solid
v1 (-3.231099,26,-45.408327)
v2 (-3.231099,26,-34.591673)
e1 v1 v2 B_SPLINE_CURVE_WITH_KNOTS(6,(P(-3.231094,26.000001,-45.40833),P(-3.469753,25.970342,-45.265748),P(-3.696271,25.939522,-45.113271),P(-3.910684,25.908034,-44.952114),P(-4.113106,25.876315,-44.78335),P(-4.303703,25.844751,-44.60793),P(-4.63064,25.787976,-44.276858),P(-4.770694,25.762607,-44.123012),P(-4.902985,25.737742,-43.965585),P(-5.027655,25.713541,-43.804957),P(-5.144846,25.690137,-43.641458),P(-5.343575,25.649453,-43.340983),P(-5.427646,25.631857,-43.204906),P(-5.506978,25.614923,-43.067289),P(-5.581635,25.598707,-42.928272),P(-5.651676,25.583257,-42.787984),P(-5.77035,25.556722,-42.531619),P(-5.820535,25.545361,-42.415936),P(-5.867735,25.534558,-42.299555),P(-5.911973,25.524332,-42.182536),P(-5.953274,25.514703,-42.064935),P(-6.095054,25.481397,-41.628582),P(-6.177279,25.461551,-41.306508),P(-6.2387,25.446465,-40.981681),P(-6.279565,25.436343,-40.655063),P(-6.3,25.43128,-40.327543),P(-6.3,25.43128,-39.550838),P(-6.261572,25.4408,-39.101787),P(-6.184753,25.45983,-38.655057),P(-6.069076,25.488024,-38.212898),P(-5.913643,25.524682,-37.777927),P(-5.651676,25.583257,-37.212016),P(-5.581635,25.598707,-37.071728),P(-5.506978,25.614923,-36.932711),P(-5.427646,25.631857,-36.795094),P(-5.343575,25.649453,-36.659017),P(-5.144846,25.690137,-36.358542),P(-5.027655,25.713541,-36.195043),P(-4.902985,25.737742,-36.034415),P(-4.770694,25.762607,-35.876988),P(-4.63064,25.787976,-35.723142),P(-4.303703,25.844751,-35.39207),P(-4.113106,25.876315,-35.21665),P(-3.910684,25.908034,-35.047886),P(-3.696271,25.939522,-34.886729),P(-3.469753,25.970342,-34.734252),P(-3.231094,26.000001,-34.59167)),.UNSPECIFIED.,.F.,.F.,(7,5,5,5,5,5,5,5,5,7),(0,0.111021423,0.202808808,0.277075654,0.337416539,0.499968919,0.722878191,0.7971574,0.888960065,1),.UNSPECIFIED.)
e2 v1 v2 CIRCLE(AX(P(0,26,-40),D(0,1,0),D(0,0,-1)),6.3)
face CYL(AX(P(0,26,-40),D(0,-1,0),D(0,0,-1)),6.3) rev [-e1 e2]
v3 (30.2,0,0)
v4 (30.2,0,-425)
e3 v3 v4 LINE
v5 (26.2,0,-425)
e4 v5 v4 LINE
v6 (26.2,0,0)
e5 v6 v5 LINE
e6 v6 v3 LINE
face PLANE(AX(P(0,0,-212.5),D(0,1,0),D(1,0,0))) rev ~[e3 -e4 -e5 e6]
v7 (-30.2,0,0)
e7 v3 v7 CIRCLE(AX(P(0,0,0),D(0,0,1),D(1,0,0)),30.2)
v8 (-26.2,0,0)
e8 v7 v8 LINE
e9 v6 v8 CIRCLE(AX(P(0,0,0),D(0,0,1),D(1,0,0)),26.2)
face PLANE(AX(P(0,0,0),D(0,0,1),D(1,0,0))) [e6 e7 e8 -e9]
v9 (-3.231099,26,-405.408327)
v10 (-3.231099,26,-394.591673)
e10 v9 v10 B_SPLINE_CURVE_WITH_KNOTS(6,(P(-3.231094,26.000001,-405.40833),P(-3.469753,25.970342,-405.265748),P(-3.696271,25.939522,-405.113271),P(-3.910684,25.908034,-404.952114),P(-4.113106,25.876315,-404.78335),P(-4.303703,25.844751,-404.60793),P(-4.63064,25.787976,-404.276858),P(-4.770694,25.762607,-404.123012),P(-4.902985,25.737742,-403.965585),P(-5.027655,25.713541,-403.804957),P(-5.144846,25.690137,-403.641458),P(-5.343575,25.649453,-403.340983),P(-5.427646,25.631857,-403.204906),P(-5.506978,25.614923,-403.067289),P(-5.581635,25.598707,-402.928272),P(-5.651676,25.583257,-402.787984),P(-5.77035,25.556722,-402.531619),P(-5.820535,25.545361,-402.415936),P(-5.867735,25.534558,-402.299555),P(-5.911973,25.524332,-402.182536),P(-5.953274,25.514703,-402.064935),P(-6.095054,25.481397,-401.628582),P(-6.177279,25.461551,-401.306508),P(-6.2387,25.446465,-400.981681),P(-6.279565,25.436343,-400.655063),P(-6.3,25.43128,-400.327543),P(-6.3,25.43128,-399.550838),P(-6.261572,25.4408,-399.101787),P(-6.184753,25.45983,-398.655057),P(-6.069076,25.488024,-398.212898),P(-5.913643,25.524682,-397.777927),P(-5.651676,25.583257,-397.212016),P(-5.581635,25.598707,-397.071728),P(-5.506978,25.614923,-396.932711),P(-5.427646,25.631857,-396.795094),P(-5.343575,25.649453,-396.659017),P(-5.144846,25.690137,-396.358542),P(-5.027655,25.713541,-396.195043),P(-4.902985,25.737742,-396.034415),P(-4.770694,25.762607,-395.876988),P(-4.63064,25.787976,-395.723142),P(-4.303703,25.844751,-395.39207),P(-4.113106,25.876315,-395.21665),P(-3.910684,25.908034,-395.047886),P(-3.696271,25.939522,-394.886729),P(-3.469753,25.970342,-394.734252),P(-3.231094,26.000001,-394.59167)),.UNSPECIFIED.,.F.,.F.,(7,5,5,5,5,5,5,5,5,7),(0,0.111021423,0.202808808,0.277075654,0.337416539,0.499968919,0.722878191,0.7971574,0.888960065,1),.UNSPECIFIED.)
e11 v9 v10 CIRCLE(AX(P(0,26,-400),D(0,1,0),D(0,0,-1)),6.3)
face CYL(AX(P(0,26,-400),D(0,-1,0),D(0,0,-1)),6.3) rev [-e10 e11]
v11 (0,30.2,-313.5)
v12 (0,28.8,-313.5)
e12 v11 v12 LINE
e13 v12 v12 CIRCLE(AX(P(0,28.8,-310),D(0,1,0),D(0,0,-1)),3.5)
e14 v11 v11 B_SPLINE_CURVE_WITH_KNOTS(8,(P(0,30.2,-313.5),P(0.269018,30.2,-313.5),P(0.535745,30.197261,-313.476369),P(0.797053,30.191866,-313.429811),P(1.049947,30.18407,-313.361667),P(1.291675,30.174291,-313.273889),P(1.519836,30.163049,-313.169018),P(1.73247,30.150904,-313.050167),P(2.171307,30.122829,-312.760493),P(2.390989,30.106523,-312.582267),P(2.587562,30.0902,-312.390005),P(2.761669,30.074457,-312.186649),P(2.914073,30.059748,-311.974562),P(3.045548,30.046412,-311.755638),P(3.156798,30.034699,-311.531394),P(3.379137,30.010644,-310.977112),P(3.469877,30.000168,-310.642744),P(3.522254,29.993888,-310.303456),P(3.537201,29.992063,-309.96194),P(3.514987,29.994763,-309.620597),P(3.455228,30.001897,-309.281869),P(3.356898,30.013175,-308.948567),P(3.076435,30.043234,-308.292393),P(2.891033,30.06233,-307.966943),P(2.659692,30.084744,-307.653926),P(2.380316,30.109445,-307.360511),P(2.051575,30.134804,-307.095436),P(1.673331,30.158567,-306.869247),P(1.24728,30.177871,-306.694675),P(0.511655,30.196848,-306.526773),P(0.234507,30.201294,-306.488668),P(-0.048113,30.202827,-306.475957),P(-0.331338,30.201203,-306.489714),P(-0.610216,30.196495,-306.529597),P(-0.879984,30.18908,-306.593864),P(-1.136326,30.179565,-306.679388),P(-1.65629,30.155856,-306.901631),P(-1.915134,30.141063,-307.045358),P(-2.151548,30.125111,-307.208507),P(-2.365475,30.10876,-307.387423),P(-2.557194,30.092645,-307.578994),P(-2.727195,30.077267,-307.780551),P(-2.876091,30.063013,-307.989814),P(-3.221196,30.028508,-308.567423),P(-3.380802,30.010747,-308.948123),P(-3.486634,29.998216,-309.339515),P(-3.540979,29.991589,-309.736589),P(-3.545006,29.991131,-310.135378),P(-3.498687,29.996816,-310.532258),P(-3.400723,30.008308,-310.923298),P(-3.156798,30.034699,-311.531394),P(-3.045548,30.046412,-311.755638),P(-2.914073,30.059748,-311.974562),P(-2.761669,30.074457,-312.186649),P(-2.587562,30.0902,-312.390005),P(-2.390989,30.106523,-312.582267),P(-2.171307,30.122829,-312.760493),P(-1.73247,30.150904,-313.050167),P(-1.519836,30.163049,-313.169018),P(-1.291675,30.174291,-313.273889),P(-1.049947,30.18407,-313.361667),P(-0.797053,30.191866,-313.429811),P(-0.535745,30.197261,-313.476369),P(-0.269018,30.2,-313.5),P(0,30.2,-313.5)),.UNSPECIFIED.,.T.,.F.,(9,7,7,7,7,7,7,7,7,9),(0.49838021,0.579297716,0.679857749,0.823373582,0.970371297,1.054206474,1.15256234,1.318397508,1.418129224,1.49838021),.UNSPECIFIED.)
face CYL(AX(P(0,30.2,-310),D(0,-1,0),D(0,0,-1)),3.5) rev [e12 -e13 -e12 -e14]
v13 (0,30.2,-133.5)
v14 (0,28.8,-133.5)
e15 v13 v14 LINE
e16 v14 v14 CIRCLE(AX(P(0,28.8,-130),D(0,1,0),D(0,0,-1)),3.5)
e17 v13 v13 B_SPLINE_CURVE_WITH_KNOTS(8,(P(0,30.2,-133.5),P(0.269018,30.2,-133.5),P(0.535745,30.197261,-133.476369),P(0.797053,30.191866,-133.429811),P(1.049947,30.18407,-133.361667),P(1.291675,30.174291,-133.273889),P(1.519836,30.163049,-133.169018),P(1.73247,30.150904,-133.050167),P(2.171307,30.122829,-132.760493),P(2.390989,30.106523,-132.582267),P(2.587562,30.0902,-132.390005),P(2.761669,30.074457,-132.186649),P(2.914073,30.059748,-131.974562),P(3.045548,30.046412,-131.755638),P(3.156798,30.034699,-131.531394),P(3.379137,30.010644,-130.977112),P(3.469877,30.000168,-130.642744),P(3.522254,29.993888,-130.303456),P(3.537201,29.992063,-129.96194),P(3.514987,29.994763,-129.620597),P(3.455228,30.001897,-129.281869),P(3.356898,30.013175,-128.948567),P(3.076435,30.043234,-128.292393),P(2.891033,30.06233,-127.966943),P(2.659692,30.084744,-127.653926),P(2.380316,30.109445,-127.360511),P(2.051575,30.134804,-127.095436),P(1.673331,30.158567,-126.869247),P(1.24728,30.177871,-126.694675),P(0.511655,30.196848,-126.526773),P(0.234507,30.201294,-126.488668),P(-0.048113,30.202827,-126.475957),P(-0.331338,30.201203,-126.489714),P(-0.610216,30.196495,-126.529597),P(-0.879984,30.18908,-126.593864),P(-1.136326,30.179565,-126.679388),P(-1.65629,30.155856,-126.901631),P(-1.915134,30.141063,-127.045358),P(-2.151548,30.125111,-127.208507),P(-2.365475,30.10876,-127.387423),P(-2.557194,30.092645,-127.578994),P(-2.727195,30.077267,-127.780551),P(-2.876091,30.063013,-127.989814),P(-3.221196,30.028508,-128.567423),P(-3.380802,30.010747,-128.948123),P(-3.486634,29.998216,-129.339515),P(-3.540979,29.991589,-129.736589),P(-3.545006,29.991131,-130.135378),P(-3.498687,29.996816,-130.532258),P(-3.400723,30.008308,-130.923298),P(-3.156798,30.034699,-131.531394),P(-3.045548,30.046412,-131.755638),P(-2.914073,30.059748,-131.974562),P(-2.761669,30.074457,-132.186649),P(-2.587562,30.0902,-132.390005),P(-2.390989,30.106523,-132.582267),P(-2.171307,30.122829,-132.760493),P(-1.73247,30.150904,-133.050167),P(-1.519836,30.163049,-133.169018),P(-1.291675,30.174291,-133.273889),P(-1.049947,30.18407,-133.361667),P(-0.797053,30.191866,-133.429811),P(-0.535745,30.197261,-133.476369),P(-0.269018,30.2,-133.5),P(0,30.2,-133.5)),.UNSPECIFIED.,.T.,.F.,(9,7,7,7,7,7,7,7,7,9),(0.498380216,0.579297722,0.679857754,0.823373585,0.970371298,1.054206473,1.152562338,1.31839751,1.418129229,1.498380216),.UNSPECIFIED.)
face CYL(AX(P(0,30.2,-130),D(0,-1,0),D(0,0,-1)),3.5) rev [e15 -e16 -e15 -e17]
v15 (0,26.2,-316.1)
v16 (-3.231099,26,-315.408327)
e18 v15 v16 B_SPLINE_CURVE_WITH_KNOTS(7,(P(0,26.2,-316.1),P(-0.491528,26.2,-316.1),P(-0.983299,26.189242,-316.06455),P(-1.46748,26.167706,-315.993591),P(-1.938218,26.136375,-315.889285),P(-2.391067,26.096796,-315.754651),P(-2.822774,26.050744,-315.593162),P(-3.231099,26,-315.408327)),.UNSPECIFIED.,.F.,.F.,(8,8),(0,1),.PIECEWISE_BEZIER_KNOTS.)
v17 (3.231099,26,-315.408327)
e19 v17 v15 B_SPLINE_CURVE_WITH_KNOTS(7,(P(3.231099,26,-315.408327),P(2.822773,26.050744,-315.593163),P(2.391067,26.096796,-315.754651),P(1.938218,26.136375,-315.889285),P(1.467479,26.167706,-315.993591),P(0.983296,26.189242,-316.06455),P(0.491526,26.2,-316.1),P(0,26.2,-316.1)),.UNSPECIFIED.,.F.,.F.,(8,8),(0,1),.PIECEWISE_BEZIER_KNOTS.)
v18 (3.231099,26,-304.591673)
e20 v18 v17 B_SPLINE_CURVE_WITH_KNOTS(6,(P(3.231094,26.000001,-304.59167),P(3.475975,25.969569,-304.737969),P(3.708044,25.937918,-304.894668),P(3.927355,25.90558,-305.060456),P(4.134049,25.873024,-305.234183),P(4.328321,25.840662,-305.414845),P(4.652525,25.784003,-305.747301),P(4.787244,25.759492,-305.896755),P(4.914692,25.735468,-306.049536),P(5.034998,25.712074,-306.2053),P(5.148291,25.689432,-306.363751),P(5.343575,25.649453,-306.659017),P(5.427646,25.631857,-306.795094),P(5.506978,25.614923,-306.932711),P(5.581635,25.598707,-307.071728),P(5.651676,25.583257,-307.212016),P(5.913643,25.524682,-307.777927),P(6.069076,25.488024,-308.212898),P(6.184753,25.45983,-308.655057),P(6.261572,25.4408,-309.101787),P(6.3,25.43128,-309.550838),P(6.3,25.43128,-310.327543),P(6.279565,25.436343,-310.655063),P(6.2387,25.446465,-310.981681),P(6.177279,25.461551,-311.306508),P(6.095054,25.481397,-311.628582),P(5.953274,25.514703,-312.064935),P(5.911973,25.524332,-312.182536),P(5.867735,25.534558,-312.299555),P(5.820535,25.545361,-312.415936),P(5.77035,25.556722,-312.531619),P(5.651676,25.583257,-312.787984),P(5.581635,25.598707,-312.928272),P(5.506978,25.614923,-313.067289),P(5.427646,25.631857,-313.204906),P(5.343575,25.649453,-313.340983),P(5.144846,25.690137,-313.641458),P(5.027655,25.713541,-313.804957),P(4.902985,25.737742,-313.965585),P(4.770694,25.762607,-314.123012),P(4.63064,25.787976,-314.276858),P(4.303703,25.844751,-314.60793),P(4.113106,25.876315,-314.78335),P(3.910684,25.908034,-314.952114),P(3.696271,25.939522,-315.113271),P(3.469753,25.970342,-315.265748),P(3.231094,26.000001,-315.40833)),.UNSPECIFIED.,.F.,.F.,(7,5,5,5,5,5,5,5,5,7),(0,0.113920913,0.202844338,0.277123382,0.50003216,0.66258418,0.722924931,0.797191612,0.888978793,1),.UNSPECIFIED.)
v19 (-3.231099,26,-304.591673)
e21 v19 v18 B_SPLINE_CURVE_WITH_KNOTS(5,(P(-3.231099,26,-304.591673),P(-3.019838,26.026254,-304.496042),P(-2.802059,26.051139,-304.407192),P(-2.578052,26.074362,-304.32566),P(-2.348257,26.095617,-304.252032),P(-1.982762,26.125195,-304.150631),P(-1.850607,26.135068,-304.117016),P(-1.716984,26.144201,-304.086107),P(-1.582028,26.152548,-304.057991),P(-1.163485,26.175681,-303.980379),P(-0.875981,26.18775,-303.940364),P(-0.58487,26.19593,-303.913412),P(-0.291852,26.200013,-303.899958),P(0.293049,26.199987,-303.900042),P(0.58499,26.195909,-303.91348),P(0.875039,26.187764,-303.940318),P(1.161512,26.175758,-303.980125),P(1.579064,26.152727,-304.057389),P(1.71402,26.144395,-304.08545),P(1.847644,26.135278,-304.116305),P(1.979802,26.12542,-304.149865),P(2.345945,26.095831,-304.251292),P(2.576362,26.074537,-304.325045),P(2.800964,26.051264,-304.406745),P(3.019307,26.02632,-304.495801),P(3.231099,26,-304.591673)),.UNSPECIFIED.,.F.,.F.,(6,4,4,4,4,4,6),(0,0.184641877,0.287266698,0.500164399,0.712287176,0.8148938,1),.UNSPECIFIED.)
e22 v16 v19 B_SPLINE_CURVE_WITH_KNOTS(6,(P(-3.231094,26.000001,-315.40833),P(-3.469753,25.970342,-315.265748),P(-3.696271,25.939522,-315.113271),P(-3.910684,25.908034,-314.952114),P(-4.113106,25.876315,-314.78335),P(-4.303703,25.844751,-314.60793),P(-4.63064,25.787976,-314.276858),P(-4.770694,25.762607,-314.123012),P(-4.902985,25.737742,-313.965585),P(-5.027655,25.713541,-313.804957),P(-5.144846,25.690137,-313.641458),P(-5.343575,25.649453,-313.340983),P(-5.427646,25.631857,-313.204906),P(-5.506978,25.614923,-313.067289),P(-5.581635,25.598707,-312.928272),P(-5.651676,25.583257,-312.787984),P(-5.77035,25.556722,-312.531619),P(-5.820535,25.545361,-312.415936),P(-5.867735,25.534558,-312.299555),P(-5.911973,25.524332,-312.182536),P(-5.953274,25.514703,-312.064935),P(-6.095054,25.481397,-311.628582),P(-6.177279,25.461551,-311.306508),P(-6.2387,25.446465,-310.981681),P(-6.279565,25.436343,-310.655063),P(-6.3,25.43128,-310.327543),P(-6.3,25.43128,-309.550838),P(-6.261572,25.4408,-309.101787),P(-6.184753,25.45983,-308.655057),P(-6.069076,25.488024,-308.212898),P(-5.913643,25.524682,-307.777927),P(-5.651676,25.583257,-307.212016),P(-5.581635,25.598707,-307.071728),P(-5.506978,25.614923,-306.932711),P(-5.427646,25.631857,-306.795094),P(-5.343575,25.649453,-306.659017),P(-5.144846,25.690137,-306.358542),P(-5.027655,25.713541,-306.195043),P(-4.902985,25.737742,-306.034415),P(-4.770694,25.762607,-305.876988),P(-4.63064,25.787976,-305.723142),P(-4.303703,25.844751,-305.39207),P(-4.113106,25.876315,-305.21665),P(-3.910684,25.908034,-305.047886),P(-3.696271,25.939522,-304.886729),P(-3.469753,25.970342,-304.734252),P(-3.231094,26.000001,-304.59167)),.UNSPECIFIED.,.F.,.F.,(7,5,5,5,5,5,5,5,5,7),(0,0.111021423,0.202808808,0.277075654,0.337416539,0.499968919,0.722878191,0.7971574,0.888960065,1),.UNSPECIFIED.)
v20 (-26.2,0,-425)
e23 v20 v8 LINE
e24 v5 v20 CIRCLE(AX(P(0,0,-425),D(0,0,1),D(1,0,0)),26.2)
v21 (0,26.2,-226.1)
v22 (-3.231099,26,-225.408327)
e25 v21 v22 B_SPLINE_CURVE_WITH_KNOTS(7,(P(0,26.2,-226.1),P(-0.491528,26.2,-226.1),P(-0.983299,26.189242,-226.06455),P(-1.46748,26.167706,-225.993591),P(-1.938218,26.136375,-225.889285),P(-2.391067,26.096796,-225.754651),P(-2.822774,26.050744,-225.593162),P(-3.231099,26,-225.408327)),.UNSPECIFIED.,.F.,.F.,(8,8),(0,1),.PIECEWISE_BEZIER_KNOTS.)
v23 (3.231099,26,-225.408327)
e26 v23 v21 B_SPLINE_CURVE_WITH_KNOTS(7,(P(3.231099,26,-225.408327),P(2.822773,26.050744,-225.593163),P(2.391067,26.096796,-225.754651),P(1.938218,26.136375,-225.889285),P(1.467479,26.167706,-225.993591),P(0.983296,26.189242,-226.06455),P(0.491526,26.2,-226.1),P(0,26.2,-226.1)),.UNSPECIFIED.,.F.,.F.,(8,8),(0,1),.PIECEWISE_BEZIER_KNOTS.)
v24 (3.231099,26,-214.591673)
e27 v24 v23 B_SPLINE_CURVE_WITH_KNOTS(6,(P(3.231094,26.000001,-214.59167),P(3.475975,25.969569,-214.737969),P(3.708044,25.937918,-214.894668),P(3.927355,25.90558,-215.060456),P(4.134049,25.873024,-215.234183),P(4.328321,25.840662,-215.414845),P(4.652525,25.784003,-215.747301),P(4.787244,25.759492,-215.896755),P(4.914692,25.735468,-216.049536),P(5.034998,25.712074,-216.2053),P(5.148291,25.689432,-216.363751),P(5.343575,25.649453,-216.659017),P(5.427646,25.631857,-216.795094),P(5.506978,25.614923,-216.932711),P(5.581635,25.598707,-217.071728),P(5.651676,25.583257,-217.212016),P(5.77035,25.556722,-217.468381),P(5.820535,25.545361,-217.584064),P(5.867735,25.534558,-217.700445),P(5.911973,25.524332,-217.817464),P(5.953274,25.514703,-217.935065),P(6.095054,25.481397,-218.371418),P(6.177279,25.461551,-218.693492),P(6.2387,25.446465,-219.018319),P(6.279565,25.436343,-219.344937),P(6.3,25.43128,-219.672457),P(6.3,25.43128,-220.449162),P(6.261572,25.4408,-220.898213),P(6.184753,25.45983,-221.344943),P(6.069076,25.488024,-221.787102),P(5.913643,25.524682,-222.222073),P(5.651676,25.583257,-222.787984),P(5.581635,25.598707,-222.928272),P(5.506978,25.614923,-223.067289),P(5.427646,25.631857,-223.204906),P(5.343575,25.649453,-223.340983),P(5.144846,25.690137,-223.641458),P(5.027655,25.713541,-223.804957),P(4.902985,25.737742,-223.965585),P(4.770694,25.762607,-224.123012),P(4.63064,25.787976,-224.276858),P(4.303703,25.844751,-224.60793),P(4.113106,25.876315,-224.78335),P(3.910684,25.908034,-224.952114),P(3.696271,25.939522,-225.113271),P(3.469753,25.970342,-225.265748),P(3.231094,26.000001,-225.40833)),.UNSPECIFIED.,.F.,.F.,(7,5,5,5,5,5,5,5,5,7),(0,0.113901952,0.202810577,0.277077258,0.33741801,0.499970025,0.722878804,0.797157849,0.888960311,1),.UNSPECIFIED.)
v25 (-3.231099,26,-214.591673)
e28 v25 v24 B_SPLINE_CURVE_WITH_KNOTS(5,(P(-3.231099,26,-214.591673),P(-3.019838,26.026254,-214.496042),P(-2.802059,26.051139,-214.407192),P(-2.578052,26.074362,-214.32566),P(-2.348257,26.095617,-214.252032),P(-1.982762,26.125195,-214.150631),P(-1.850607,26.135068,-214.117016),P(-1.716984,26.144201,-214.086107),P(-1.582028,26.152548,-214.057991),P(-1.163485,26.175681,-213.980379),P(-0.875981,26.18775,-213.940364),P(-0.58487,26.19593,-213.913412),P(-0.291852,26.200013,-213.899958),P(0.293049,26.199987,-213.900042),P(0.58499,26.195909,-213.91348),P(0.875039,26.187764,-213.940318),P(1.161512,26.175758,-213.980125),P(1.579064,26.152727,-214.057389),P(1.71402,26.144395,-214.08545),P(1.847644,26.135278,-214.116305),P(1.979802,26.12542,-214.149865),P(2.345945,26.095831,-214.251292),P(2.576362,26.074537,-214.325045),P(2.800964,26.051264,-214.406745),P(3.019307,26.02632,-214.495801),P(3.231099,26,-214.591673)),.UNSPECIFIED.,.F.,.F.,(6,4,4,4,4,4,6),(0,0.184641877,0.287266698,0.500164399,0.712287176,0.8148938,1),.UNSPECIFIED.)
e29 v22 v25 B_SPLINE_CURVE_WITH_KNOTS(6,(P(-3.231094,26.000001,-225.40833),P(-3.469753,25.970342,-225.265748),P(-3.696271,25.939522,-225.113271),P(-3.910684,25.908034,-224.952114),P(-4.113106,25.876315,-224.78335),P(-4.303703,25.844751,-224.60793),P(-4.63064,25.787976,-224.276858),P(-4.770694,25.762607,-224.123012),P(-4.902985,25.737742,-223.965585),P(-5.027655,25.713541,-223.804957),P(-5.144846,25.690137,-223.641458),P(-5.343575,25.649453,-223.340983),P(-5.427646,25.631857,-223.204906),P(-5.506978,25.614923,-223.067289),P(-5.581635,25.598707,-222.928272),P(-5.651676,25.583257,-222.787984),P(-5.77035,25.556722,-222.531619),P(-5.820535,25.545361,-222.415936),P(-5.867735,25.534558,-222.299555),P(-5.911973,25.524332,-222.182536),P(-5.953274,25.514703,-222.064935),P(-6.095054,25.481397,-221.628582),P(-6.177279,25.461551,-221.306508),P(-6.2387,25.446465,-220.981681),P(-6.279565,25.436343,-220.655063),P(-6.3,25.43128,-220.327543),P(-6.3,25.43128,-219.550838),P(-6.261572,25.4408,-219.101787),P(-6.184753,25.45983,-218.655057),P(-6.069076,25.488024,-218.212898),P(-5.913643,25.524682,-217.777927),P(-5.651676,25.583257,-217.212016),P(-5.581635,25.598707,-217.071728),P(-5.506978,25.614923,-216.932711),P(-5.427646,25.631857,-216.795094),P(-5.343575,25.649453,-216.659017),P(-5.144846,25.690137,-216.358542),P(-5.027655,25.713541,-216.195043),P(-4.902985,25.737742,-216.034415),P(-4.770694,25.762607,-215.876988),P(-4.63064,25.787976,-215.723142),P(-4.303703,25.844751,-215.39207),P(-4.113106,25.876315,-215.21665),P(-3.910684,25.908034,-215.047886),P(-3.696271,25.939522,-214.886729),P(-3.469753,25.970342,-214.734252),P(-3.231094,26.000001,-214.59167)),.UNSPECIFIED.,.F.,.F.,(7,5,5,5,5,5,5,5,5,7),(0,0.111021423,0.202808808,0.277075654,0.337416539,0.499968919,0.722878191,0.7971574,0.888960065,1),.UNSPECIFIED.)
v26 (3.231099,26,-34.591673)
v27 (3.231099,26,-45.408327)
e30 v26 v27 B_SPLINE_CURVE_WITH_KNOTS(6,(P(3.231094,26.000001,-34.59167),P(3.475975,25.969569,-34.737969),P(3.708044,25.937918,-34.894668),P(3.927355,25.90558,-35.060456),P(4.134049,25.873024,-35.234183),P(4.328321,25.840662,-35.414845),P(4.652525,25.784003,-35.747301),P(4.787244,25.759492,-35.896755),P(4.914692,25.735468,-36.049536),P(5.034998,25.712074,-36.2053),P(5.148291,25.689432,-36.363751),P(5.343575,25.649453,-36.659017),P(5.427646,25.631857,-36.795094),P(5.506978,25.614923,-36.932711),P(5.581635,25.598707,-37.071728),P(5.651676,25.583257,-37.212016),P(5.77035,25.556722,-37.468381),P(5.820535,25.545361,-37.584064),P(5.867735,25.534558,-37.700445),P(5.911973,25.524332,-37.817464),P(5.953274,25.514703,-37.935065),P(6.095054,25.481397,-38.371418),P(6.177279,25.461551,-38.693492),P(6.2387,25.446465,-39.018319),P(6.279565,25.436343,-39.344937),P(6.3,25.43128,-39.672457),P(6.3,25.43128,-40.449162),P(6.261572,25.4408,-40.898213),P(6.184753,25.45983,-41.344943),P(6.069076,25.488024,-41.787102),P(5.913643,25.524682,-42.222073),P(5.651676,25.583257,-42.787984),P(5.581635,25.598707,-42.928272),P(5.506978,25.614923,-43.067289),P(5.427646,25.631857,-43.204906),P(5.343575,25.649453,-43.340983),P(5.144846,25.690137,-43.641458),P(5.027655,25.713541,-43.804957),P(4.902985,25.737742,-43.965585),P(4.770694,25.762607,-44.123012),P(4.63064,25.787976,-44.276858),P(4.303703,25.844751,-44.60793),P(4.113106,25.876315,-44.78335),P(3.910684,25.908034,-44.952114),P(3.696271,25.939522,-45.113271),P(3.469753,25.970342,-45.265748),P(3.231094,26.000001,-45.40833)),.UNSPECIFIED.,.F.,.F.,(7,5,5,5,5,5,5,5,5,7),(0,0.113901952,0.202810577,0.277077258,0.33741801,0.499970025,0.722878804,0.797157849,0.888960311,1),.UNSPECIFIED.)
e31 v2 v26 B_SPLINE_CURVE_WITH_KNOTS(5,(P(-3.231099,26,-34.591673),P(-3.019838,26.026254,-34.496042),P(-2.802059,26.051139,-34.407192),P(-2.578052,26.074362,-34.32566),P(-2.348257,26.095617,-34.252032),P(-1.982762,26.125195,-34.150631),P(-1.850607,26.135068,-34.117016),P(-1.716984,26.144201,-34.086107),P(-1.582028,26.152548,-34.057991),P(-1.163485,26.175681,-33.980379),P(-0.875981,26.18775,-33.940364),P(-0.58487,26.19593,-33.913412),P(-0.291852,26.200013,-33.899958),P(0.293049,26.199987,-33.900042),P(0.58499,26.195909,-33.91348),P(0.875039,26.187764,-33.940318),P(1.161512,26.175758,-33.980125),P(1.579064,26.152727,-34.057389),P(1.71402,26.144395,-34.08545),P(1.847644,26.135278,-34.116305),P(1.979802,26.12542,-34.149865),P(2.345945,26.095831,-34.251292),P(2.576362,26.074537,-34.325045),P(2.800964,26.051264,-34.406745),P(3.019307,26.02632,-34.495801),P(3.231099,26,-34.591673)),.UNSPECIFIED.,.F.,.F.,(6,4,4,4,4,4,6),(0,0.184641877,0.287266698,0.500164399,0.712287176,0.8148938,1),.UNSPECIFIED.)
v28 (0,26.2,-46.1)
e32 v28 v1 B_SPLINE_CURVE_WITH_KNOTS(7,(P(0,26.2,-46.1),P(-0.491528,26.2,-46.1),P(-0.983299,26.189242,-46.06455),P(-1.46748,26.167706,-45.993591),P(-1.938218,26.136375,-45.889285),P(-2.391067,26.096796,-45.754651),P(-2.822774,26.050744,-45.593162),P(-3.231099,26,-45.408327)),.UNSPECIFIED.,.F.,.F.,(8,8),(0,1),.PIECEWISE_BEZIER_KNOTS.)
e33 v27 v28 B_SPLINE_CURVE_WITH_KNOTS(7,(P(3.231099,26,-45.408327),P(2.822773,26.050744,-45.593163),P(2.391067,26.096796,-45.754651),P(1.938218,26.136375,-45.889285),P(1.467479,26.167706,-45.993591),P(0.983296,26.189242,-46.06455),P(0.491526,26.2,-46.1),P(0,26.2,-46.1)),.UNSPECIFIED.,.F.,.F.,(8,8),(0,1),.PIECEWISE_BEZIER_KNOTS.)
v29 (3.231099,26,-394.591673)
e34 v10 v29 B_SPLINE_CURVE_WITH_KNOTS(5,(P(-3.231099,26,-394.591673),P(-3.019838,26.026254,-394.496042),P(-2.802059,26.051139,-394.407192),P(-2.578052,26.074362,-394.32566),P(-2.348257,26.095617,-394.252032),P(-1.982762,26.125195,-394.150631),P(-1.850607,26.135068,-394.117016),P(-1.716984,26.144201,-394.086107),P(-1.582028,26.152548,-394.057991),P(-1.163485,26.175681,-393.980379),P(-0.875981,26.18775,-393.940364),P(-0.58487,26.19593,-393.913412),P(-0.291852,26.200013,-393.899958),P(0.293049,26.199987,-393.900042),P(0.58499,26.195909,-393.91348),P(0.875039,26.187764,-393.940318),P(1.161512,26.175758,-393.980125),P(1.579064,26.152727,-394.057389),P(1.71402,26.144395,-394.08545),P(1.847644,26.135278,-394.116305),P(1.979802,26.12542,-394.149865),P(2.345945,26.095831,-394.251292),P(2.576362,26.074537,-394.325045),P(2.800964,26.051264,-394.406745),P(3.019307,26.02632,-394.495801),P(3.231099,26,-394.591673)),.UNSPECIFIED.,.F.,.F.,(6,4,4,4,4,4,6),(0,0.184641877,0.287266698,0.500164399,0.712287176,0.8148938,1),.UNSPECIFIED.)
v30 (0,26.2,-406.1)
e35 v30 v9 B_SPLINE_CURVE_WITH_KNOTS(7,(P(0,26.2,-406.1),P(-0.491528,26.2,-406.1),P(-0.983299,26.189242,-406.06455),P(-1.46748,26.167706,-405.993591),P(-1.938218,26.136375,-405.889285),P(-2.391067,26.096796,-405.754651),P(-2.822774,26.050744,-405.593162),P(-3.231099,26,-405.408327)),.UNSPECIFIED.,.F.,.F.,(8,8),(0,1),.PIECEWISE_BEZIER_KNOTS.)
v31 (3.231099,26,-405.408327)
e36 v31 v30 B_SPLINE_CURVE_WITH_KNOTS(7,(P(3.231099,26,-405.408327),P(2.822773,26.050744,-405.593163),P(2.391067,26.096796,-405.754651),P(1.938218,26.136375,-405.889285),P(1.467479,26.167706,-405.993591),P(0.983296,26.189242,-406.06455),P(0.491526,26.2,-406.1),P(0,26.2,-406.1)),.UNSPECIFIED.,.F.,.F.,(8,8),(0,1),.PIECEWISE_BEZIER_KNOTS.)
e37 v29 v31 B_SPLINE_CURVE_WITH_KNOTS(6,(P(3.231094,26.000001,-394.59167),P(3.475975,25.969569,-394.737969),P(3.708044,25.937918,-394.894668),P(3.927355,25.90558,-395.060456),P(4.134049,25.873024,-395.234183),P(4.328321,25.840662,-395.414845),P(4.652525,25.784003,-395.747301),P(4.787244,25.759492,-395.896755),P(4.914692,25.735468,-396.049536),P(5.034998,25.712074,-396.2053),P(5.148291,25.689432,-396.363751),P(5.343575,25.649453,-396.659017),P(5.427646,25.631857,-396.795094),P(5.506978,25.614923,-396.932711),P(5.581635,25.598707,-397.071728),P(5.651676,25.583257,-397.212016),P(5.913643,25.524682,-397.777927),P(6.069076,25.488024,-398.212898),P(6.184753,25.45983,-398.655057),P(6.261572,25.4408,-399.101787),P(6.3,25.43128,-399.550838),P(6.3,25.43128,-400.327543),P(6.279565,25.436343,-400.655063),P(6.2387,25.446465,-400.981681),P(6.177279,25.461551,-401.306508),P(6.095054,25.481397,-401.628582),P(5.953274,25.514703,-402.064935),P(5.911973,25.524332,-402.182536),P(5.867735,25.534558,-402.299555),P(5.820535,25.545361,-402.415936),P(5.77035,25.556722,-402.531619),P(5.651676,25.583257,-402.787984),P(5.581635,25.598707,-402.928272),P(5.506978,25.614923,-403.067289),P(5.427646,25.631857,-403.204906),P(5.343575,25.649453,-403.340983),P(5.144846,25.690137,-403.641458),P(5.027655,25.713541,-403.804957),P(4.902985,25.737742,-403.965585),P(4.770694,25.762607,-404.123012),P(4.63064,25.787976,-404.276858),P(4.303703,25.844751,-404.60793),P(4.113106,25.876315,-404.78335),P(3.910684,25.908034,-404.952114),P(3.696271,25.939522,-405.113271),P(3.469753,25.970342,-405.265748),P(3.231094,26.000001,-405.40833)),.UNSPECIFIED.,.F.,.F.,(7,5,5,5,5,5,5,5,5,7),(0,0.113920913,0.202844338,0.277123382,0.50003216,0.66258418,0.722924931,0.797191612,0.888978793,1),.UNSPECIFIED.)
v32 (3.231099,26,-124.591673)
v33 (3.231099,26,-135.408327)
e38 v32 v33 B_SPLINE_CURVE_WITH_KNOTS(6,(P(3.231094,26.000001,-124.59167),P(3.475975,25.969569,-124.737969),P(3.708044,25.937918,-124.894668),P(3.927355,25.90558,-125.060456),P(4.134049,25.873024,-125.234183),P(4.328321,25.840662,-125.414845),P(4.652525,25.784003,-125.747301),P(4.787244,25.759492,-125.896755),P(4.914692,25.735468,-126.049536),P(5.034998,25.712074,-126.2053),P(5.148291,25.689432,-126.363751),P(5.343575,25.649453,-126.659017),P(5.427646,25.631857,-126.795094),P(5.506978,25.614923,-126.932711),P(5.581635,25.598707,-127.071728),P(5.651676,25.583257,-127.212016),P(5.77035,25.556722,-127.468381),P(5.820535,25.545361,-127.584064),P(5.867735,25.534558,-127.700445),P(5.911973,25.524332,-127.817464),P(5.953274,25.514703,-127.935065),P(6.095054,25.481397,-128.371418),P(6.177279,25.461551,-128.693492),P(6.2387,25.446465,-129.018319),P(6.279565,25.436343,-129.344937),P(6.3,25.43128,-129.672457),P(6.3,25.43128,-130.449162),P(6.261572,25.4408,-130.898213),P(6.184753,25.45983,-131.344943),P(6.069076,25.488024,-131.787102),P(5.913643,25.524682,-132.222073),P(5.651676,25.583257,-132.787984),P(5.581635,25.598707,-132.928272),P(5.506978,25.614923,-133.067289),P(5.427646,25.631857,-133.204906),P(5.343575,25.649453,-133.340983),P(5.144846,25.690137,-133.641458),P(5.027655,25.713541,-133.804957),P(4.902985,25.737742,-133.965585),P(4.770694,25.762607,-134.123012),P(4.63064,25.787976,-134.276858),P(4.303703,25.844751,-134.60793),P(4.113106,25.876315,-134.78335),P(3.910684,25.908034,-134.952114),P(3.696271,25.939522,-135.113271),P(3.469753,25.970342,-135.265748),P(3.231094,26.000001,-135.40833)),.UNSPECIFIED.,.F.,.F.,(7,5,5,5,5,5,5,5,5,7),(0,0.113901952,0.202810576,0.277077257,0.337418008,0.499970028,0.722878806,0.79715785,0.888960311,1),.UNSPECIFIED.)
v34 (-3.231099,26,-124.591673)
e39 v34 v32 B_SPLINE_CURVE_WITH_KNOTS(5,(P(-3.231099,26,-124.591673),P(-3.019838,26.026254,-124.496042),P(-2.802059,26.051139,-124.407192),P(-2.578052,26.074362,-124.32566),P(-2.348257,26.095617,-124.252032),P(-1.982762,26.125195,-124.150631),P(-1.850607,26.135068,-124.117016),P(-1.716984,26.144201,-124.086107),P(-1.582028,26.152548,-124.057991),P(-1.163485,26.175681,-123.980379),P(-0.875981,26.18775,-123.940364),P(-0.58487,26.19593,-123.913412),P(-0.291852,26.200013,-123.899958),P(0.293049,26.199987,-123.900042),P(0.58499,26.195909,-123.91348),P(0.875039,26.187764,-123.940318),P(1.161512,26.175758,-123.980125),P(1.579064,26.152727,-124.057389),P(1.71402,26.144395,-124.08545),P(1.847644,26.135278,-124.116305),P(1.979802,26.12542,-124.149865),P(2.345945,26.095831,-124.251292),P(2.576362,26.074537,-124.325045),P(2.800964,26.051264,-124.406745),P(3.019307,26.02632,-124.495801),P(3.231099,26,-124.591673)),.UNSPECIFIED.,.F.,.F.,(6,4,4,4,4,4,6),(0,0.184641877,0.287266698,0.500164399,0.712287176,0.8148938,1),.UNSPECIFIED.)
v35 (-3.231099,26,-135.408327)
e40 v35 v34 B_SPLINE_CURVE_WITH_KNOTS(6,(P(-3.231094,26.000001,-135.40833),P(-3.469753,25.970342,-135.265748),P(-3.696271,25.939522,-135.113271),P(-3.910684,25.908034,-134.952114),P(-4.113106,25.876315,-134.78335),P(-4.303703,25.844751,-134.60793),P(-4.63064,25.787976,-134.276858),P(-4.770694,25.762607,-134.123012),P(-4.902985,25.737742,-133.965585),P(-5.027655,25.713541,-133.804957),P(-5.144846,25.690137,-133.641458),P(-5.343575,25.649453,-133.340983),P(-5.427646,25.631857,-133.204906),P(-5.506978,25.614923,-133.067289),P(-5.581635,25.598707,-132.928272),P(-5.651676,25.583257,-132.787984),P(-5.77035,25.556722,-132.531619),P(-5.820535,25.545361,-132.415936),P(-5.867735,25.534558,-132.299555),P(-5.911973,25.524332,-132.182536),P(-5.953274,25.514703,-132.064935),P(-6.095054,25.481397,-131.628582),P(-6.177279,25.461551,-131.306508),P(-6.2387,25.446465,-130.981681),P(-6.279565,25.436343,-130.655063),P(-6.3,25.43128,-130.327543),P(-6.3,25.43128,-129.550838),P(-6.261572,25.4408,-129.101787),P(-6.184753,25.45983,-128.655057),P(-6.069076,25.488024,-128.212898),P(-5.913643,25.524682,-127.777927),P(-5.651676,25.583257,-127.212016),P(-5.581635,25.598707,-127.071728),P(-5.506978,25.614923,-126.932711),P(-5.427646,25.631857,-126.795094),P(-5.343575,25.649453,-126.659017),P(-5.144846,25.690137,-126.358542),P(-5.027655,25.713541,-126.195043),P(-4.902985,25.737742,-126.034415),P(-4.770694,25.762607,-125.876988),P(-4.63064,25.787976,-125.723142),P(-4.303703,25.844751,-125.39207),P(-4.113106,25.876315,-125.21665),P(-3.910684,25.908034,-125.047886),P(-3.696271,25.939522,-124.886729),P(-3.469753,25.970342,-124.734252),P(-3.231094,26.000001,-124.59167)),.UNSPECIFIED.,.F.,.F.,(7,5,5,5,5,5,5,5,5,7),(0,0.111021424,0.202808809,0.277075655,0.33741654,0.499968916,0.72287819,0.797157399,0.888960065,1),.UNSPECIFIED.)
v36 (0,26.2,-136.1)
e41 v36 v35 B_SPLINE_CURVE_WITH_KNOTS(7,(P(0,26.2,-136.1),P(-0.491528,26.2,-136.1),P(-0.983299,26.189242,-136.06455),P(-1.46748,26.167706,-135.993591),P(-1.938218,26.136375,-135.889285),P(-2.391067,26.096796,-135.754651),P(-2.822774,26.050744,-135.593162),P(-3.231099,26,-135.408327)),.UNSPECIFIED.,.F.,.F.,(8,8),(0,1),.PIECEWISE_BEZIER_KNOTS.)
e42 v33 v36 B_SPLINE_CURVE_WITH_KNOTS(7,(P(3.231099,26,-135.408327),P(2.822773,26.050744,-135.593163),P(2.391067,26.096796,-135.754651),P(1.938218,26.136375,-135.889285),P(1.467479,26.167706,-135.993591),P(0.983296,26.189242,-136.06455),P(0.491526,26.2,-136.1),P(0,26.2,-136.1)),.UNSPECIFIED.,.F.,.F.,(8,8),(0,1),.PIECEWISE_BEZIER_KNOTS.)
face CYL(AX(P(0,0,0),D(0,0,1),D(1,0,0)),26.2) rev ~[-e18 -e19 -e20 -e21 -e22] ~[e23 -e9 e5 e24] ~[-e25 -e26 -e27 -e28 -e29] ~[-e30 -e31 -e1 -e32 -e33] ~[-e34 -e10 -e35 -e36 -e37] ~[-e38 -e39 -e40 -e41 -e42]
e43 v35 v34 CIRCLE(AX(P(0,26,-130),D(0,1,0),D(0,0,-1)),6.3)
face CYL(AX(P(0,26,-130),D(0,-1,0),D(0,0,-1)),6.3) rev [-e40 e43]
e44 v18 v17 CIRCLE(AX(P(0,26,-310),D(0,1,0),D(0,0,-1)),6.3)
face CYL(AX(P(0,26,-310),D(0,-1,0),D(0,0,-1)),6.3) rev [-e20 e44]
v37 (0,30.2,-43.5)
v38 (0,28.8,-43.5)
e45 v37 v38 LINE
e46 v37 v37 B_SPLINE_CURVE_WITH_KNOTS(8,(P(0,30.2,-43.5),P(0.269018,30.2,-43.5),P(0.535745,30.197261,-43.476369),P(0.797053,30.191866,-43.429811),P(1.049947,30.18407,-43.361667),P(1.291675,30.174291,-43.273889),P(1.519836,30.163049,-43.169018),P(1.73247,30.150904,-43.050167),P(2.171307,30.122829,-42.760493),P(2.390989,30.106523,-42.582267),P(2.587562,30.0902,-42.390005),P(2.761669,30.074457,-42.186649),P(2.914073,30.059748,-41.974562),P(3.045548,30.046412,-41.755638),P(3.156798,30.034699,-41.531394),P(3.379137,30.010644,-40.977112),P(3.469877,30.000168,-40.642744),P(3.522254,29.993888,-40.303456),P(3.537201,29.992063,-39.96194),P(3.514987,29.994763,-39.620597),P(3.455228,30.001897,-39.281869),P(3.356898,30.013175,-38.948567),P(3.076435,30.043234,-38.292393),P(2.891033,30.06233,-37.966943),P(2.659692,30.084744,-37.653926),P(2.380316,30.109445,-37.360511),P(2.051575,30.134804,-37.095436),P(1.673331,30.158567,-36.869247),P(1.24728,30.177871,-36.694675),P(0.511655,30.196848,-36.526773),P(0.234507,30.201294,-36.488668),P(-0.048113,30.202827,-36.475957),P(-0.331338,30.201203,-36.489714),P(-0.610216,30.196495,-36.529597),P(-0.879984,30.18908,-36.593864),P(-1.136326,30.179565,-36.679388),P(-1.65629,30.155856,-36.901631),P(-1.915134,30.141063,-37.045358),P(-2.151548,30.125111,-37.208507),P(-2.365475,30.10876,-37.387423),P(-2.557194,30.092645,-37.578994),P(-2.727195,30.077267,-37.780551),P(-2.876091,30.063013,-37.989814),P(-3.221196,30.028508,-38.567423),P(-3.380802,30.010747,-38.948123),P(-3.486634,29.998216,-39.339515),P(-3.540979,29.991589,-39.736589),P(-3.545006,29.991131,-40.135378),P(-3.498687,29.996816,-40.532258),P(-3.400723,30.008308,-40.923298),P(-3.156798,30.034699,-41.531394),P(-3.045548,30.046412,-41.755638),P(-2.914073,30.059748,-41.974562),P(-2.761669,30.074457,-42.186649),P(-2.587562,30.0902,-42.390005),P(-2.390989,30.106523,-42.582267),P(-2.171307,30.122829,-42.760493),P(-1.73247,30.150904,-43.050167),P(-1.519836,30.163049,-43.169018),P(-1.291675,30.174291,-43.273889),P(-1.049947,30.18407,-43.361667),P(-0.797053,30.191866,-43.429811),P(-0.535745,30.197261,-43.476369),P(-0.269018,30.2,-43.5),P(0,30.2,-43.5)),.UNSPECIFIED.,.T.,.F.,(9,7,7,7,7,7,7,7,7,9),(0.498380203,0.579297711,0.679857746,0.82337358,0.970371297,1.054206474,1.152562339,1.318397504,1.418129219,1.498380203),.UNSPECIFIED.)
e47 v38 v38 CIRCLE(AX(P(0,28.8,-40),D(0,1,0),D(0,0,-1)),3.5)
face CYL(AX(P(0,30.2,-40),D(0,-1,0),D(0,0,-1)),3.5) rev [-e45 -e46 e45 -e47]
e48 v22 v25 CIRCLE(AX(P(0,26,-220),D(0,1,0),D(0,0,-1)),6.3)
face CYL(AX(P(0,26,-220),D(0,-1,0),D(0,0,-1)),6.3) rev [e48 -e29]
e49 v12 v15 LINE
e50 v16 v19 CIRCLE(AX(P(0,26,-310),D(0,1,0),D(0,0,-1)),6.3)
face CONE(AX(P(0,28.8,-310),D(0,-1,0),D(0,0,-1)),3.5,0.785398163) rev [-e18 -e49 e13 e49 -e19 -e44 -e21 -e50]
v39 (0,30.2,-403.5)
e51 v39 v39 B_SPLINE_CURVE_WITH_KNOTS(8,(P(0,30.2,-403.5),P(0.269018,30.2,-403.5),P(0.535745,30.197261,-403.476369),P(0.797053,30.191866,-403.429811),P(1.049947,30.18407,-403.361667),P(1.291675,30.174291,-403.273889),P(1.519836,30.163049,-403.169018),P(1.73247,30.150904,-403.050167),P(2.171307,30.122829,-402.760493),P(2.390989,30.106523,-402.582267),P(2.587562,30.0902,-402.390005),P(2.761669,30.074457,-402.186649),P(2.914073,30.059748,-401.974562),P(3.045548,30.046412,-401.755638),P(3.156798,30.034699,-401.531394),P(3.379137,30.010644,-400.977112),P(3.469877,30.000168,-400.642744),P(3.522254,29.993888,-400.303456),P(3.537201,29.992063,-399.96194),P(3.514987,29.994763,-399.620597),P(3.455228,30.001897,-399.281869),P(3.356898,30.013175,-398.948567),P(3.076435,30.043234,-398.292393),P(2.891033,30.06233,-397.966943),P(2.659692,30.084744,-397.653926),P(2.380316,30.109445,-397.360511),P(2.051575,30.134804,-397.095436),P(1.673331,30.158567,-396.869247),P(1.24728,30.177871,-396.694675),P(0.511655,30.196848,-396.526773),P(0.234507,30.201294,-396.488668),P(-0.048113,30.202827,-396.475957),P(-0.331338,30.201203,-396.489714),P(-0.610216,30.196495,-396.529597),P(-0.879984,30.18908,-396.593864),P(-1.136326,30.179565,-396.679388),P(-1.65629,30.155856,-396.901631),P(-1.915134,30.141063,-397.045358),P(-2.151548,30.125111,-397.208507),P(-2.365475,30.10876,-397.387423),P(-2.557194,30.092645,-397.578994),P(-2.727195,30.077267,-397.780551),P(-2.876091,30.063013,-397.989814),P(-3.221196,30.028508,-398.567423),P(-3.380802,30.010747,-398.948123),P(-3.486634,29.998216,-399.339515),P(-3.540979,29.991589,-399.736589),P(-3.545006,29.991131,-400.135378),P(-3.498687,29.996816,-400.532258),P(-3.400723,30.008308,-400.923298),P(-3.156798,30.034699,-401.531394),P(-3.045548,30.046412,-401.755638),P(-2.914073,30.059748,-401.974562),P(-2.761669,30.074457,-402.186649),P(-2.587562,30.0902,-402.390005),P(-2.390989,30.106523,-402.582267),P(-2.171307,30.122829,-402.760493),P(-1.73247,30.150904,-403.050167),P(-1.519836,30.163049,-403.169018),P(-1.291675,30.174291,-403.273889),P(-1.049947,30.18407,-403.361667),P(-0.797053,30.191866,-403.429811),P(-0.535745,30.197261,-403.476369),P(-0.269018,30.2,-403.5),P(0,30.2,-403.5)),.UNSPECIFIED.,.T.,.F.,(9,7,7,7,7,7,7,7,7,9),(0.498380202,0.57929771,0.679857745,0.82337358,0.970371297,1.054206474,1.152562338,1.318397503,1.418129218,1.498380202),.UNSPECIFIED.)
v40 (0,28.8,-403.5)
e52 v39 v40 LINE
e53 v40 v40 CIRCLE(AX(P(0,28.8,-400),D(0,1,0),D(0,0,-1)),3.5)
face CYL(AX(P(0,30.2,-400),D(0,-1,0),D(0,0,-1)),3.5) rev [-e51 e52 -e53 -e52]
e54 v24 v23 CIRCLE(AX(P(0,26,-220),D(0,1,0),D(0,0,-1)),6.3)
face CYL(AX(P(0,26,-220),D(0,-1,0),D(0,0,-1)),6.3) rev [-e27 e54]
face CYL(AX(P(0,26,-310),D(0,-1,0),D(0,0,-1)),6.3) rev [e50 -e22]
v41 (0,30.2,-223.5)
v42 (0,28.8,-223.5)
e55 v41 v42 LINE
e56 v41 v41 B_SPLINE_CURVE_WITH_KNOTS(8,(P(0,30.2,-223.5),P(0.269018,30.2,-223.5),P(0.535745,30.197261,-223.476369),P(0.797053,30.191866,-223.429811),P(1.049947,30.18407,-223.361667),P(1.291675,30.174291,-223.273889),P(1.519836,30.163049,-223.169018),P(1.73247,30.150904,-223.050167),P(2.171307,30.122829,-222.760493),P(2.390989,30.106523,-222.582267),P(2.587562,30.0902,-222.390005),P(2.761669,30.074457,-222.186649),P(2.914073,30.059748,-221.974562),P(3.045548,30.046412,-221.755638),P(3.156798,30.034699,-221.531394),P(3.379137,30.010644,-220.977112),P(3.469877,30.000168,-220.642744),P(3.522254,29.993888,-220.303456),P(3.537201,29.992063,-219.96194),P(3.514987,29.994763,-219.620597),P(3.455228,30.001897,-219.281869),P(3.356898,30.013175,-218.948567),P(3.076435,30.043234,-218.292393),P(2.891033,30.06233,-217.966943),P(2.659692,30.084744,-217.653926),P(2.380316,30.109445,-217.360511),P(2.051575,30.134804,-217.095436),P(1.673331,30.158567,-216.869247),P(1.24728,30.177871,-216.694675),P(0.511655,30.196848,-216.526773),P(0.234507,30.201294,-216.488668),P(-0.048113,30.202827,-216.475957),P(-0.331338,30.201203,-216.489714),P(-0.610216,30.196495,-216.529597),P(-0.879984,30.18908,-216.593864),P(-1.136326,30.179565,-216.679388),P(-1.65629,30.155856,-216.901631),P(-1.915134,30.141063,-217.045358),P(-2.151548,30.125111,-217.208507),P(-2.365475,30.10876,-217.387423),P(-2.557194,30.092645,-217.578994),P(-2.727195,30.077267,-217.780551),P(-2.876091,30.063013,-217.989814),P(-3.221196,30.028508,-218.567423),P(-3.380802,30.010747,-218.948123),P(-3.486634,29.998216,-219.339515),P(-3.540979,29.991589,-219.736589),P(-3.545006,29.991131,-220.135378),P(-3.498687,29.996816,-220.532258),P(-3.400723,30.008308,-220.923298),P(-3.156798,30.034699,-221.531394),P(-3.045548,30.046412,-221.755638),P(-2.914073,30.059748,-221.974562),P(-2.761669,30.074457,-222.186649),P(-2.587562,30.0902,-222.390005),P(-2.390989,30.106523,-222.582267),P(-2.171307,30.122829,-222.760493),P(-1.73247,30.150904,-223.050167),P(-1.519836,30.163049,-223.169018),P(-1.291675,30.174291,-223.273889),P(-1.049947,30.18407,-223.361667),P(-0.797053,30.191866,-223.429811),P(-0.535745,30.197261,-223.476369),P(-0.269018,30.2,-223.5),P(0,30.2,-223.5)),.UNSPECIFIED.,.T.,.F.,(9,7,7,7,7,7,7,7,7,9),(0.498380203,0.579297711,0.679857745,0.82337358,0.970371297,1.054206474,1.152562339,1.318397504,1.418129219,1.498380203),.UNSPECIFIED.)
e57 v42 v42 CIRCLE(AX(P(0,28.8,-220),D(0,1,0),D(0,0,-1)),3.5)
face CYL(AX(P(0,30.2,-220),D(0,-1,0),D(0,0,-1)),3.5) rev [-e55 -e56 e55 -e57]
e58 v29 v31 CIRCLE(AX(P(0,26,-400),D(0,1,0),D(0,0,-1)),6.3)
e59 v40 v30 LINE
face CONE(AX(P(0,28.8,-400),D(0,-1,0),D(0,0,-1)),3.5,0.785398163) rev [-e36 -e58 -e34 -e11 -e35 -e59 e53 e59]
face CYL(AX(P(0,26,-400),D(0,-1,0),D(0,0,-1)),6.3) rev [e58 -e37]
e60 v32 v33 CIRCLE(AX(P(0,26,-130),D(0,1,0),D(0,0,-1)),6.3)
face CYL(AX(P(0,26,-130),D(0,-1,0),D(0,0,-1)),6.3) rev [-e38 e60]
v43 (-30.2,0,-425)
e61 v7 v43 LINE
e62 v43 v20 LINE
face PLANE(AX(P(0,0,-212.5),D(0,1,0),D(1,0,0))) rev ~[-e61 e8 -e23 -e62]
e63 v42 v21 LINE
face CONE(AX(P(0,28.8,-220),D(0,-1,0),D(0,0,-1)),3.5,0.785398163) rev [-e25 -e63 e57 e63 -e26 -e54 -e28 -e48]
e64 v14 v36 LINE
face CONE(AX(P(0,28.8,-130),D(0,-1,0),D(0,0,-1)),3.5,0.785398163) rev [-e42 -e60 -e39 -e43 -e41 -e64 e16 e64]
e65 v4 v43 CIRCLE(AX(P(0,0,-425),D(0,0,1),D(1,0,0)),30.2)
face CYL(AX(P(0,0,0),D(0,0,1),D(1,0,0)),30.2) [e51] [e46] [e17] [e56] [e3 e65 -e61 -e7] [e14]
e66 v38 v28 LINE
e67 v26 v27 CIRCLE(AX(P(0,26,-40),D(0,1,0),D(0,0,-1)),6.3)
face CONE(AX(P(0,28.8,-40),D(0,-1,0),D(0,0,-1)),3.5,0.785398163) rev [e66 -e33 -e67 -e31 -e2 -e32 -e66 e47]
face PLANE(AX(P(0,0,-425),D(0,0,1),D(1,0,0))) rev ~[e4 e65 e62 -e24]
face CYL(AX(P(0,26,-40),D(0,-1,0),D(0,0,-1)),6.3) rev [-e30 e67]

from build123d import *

# Parameters (mm, degrees)
SKETCH2_R                                      = 30.2
BOSS_EXTRUDE1_DEPTH                            = 425
SKETCH3_R                                      = 26.2
CUT_EXTRUDE1_DEPTH                             = 426
CUT_EXTRUDE2_REACH                             = 32.2
SKETCH4_W                                      = 60.4
SKETCH4_H                                      = 425
CSK_FOR_M6_FLAT_HEAD_MACHINE_SCREW1_AT_2_COUNT = 2
CSK_FOR_M6_FLAT_HEAD_MACHINE_SCREW1_AT_2_PITCH = 90
CSK_FOR_M6_FLAT_HEAD_MACHINE_SCREW1_AT_3_COUNT = 2
CSK_FOR_M6_FLAT_HEAD_MACHINE_SCREW1_AT_3_PITCH = 180
CSK_FOR_M6_FLAT_HEAD_MACHINE_SCREW1_AT_4_COUNT = 2
CSK_FOR_M6_FLAT_HEAD_MACHINE_SCREW1_AT_4_PITCH = 270
CSK_FOR_M6_FLAT_HEAD_MACHINE_SCREW1_AT_5_COUNT = 2
CSK_FOR_M6_FLAT_HEAD_MACHINE_SCREW1_AT_5_PITCH = 360


with BuildPart() as part:
    # Sketch2 → Boss-Extrude1 (new body)
    with BuildSketch(Plane.XY):
        Circle(SKETCH2_R)
    extrude(amount=-BOSS_EXTRUDE1_DEPTH)

    # Sketch3 → Cut-Extrude1 (cut, through all)
    with BuildSketch(Plane.XY):
        Circle(SKETCH3_R)
    extrude(amount=-CUT_EXTRUDE1_DEPTH, mode=Mode.SUBTRACT)

    # Sketch4 → Cut-Extrude2 (cut, up to next)
    with BuildSketch(Plane(origin=(0, 0, 0), x_dir=(1, 0, 0), z_dir=(0, 1, 0)), mode=Mode.PRIVATE) as cut_extrude2_sk1:
        with Locations((0, 212.5)):
            Rectangle(SKETCH4_W, SKETCH4_H)
    cut_extrude2_tool1 = extrude(cut_extrude2_sk1.sketch, amount=-CUT_EXTRUDE2_REACH, mode=Mode.PRIVATE) & part.part
    add(cut_extrude2_tool1.solids().sort_by_distance((0, 0, -212.5))[0], mode=Mode.SUBTRACT)

    # Sketch10 → CSK for M6 Flat Head Machine Screw1 (revolve, cut)
    with BuildSketch(Plane(origin=(0, 0, -40), x_dir=(0, 0, -1), z_dir=(1, 0, 0))):
        Polygon((0, 0), (0, 30.2), (3.5, 30.2), (3.5, 28.8), (6.3, 26), (6.3, 0), align=None)
    csk_for_m6_flat_head_machine_screw1 = revolve(axis=Axis((0, -6.35, -40), (0, 1, 0)), mode=Mode.SUBTRACT)

    # CSK for M6 Flat Head Machine Screw1 at 2: CSK for M6 Flat Head Machine Screw1 ×2
    with Locations(*[(0, 0, -i * CSK_FOR_M6_FLAT_HEAD_MACHINE_SCREW1_AT_2_PITCH) for i in range(1, CSK_FOR_M6_FLAT_HEAD_MACHINE_SCREW1_AT_2_COUNT)]):
        add(csk_for_m6_flat_head_machine_screw1, mode=Mode.SUBTRACT)

    # CSK for M6 Flat Head Machine Screw1 at 3: CSK for M6 Flat Head Machine Screw1 ×2
    with Locations(*[(0, 0, -i * CSK_FOR_M6_FLAT_HEAD_MACHINE_SCREW1_AT_3_PITCH) for i in range(1, CSK_FOR_M6_FLAT_HEAD_MACHINE_SCREW1_AT_3_COUNT)]):
        add(csk_for_m6_flat_head_machine_screw1, mode=Mode.SUBTRACT)

    # CSK for M6 Flat Head Machine Screw1 at 4: CSK for M6 Flat Head Machine Screw1 ×2
    with Locations(*[(0, 0, -i * CSK_FOR_M6_FLAT_HEAD_MACHINE_SCREW1_AT_4_PITCH) for i in range(1, CSK_FOR_M6_FLAT_HEAD_MACHINE_SCREW1_AT_4_COUNT)]):
        add(csk_for_m6_flat_head_machine_screw1, mode=Mode.SUBTRACT)

    # CSK for M6 Flat Head Machine Screw1 at 5: CSK for M6 Flat Head Machine Screw1 ×2
    with Locations(*[(0, 0, -i * CSK_FOR_M6_FLAT_HEAD_MACHINE_SCREW1_AT_5_PITCH) for i in range(1, CSK_FOR_M6_FLAT_HEAD_MACHINE_SCREW1_AT_5_COUNT)]):
        add(csk_for_m6_flat_head_machine_screw1, mode=Mode.SUBTRACT)


solid = part.part
